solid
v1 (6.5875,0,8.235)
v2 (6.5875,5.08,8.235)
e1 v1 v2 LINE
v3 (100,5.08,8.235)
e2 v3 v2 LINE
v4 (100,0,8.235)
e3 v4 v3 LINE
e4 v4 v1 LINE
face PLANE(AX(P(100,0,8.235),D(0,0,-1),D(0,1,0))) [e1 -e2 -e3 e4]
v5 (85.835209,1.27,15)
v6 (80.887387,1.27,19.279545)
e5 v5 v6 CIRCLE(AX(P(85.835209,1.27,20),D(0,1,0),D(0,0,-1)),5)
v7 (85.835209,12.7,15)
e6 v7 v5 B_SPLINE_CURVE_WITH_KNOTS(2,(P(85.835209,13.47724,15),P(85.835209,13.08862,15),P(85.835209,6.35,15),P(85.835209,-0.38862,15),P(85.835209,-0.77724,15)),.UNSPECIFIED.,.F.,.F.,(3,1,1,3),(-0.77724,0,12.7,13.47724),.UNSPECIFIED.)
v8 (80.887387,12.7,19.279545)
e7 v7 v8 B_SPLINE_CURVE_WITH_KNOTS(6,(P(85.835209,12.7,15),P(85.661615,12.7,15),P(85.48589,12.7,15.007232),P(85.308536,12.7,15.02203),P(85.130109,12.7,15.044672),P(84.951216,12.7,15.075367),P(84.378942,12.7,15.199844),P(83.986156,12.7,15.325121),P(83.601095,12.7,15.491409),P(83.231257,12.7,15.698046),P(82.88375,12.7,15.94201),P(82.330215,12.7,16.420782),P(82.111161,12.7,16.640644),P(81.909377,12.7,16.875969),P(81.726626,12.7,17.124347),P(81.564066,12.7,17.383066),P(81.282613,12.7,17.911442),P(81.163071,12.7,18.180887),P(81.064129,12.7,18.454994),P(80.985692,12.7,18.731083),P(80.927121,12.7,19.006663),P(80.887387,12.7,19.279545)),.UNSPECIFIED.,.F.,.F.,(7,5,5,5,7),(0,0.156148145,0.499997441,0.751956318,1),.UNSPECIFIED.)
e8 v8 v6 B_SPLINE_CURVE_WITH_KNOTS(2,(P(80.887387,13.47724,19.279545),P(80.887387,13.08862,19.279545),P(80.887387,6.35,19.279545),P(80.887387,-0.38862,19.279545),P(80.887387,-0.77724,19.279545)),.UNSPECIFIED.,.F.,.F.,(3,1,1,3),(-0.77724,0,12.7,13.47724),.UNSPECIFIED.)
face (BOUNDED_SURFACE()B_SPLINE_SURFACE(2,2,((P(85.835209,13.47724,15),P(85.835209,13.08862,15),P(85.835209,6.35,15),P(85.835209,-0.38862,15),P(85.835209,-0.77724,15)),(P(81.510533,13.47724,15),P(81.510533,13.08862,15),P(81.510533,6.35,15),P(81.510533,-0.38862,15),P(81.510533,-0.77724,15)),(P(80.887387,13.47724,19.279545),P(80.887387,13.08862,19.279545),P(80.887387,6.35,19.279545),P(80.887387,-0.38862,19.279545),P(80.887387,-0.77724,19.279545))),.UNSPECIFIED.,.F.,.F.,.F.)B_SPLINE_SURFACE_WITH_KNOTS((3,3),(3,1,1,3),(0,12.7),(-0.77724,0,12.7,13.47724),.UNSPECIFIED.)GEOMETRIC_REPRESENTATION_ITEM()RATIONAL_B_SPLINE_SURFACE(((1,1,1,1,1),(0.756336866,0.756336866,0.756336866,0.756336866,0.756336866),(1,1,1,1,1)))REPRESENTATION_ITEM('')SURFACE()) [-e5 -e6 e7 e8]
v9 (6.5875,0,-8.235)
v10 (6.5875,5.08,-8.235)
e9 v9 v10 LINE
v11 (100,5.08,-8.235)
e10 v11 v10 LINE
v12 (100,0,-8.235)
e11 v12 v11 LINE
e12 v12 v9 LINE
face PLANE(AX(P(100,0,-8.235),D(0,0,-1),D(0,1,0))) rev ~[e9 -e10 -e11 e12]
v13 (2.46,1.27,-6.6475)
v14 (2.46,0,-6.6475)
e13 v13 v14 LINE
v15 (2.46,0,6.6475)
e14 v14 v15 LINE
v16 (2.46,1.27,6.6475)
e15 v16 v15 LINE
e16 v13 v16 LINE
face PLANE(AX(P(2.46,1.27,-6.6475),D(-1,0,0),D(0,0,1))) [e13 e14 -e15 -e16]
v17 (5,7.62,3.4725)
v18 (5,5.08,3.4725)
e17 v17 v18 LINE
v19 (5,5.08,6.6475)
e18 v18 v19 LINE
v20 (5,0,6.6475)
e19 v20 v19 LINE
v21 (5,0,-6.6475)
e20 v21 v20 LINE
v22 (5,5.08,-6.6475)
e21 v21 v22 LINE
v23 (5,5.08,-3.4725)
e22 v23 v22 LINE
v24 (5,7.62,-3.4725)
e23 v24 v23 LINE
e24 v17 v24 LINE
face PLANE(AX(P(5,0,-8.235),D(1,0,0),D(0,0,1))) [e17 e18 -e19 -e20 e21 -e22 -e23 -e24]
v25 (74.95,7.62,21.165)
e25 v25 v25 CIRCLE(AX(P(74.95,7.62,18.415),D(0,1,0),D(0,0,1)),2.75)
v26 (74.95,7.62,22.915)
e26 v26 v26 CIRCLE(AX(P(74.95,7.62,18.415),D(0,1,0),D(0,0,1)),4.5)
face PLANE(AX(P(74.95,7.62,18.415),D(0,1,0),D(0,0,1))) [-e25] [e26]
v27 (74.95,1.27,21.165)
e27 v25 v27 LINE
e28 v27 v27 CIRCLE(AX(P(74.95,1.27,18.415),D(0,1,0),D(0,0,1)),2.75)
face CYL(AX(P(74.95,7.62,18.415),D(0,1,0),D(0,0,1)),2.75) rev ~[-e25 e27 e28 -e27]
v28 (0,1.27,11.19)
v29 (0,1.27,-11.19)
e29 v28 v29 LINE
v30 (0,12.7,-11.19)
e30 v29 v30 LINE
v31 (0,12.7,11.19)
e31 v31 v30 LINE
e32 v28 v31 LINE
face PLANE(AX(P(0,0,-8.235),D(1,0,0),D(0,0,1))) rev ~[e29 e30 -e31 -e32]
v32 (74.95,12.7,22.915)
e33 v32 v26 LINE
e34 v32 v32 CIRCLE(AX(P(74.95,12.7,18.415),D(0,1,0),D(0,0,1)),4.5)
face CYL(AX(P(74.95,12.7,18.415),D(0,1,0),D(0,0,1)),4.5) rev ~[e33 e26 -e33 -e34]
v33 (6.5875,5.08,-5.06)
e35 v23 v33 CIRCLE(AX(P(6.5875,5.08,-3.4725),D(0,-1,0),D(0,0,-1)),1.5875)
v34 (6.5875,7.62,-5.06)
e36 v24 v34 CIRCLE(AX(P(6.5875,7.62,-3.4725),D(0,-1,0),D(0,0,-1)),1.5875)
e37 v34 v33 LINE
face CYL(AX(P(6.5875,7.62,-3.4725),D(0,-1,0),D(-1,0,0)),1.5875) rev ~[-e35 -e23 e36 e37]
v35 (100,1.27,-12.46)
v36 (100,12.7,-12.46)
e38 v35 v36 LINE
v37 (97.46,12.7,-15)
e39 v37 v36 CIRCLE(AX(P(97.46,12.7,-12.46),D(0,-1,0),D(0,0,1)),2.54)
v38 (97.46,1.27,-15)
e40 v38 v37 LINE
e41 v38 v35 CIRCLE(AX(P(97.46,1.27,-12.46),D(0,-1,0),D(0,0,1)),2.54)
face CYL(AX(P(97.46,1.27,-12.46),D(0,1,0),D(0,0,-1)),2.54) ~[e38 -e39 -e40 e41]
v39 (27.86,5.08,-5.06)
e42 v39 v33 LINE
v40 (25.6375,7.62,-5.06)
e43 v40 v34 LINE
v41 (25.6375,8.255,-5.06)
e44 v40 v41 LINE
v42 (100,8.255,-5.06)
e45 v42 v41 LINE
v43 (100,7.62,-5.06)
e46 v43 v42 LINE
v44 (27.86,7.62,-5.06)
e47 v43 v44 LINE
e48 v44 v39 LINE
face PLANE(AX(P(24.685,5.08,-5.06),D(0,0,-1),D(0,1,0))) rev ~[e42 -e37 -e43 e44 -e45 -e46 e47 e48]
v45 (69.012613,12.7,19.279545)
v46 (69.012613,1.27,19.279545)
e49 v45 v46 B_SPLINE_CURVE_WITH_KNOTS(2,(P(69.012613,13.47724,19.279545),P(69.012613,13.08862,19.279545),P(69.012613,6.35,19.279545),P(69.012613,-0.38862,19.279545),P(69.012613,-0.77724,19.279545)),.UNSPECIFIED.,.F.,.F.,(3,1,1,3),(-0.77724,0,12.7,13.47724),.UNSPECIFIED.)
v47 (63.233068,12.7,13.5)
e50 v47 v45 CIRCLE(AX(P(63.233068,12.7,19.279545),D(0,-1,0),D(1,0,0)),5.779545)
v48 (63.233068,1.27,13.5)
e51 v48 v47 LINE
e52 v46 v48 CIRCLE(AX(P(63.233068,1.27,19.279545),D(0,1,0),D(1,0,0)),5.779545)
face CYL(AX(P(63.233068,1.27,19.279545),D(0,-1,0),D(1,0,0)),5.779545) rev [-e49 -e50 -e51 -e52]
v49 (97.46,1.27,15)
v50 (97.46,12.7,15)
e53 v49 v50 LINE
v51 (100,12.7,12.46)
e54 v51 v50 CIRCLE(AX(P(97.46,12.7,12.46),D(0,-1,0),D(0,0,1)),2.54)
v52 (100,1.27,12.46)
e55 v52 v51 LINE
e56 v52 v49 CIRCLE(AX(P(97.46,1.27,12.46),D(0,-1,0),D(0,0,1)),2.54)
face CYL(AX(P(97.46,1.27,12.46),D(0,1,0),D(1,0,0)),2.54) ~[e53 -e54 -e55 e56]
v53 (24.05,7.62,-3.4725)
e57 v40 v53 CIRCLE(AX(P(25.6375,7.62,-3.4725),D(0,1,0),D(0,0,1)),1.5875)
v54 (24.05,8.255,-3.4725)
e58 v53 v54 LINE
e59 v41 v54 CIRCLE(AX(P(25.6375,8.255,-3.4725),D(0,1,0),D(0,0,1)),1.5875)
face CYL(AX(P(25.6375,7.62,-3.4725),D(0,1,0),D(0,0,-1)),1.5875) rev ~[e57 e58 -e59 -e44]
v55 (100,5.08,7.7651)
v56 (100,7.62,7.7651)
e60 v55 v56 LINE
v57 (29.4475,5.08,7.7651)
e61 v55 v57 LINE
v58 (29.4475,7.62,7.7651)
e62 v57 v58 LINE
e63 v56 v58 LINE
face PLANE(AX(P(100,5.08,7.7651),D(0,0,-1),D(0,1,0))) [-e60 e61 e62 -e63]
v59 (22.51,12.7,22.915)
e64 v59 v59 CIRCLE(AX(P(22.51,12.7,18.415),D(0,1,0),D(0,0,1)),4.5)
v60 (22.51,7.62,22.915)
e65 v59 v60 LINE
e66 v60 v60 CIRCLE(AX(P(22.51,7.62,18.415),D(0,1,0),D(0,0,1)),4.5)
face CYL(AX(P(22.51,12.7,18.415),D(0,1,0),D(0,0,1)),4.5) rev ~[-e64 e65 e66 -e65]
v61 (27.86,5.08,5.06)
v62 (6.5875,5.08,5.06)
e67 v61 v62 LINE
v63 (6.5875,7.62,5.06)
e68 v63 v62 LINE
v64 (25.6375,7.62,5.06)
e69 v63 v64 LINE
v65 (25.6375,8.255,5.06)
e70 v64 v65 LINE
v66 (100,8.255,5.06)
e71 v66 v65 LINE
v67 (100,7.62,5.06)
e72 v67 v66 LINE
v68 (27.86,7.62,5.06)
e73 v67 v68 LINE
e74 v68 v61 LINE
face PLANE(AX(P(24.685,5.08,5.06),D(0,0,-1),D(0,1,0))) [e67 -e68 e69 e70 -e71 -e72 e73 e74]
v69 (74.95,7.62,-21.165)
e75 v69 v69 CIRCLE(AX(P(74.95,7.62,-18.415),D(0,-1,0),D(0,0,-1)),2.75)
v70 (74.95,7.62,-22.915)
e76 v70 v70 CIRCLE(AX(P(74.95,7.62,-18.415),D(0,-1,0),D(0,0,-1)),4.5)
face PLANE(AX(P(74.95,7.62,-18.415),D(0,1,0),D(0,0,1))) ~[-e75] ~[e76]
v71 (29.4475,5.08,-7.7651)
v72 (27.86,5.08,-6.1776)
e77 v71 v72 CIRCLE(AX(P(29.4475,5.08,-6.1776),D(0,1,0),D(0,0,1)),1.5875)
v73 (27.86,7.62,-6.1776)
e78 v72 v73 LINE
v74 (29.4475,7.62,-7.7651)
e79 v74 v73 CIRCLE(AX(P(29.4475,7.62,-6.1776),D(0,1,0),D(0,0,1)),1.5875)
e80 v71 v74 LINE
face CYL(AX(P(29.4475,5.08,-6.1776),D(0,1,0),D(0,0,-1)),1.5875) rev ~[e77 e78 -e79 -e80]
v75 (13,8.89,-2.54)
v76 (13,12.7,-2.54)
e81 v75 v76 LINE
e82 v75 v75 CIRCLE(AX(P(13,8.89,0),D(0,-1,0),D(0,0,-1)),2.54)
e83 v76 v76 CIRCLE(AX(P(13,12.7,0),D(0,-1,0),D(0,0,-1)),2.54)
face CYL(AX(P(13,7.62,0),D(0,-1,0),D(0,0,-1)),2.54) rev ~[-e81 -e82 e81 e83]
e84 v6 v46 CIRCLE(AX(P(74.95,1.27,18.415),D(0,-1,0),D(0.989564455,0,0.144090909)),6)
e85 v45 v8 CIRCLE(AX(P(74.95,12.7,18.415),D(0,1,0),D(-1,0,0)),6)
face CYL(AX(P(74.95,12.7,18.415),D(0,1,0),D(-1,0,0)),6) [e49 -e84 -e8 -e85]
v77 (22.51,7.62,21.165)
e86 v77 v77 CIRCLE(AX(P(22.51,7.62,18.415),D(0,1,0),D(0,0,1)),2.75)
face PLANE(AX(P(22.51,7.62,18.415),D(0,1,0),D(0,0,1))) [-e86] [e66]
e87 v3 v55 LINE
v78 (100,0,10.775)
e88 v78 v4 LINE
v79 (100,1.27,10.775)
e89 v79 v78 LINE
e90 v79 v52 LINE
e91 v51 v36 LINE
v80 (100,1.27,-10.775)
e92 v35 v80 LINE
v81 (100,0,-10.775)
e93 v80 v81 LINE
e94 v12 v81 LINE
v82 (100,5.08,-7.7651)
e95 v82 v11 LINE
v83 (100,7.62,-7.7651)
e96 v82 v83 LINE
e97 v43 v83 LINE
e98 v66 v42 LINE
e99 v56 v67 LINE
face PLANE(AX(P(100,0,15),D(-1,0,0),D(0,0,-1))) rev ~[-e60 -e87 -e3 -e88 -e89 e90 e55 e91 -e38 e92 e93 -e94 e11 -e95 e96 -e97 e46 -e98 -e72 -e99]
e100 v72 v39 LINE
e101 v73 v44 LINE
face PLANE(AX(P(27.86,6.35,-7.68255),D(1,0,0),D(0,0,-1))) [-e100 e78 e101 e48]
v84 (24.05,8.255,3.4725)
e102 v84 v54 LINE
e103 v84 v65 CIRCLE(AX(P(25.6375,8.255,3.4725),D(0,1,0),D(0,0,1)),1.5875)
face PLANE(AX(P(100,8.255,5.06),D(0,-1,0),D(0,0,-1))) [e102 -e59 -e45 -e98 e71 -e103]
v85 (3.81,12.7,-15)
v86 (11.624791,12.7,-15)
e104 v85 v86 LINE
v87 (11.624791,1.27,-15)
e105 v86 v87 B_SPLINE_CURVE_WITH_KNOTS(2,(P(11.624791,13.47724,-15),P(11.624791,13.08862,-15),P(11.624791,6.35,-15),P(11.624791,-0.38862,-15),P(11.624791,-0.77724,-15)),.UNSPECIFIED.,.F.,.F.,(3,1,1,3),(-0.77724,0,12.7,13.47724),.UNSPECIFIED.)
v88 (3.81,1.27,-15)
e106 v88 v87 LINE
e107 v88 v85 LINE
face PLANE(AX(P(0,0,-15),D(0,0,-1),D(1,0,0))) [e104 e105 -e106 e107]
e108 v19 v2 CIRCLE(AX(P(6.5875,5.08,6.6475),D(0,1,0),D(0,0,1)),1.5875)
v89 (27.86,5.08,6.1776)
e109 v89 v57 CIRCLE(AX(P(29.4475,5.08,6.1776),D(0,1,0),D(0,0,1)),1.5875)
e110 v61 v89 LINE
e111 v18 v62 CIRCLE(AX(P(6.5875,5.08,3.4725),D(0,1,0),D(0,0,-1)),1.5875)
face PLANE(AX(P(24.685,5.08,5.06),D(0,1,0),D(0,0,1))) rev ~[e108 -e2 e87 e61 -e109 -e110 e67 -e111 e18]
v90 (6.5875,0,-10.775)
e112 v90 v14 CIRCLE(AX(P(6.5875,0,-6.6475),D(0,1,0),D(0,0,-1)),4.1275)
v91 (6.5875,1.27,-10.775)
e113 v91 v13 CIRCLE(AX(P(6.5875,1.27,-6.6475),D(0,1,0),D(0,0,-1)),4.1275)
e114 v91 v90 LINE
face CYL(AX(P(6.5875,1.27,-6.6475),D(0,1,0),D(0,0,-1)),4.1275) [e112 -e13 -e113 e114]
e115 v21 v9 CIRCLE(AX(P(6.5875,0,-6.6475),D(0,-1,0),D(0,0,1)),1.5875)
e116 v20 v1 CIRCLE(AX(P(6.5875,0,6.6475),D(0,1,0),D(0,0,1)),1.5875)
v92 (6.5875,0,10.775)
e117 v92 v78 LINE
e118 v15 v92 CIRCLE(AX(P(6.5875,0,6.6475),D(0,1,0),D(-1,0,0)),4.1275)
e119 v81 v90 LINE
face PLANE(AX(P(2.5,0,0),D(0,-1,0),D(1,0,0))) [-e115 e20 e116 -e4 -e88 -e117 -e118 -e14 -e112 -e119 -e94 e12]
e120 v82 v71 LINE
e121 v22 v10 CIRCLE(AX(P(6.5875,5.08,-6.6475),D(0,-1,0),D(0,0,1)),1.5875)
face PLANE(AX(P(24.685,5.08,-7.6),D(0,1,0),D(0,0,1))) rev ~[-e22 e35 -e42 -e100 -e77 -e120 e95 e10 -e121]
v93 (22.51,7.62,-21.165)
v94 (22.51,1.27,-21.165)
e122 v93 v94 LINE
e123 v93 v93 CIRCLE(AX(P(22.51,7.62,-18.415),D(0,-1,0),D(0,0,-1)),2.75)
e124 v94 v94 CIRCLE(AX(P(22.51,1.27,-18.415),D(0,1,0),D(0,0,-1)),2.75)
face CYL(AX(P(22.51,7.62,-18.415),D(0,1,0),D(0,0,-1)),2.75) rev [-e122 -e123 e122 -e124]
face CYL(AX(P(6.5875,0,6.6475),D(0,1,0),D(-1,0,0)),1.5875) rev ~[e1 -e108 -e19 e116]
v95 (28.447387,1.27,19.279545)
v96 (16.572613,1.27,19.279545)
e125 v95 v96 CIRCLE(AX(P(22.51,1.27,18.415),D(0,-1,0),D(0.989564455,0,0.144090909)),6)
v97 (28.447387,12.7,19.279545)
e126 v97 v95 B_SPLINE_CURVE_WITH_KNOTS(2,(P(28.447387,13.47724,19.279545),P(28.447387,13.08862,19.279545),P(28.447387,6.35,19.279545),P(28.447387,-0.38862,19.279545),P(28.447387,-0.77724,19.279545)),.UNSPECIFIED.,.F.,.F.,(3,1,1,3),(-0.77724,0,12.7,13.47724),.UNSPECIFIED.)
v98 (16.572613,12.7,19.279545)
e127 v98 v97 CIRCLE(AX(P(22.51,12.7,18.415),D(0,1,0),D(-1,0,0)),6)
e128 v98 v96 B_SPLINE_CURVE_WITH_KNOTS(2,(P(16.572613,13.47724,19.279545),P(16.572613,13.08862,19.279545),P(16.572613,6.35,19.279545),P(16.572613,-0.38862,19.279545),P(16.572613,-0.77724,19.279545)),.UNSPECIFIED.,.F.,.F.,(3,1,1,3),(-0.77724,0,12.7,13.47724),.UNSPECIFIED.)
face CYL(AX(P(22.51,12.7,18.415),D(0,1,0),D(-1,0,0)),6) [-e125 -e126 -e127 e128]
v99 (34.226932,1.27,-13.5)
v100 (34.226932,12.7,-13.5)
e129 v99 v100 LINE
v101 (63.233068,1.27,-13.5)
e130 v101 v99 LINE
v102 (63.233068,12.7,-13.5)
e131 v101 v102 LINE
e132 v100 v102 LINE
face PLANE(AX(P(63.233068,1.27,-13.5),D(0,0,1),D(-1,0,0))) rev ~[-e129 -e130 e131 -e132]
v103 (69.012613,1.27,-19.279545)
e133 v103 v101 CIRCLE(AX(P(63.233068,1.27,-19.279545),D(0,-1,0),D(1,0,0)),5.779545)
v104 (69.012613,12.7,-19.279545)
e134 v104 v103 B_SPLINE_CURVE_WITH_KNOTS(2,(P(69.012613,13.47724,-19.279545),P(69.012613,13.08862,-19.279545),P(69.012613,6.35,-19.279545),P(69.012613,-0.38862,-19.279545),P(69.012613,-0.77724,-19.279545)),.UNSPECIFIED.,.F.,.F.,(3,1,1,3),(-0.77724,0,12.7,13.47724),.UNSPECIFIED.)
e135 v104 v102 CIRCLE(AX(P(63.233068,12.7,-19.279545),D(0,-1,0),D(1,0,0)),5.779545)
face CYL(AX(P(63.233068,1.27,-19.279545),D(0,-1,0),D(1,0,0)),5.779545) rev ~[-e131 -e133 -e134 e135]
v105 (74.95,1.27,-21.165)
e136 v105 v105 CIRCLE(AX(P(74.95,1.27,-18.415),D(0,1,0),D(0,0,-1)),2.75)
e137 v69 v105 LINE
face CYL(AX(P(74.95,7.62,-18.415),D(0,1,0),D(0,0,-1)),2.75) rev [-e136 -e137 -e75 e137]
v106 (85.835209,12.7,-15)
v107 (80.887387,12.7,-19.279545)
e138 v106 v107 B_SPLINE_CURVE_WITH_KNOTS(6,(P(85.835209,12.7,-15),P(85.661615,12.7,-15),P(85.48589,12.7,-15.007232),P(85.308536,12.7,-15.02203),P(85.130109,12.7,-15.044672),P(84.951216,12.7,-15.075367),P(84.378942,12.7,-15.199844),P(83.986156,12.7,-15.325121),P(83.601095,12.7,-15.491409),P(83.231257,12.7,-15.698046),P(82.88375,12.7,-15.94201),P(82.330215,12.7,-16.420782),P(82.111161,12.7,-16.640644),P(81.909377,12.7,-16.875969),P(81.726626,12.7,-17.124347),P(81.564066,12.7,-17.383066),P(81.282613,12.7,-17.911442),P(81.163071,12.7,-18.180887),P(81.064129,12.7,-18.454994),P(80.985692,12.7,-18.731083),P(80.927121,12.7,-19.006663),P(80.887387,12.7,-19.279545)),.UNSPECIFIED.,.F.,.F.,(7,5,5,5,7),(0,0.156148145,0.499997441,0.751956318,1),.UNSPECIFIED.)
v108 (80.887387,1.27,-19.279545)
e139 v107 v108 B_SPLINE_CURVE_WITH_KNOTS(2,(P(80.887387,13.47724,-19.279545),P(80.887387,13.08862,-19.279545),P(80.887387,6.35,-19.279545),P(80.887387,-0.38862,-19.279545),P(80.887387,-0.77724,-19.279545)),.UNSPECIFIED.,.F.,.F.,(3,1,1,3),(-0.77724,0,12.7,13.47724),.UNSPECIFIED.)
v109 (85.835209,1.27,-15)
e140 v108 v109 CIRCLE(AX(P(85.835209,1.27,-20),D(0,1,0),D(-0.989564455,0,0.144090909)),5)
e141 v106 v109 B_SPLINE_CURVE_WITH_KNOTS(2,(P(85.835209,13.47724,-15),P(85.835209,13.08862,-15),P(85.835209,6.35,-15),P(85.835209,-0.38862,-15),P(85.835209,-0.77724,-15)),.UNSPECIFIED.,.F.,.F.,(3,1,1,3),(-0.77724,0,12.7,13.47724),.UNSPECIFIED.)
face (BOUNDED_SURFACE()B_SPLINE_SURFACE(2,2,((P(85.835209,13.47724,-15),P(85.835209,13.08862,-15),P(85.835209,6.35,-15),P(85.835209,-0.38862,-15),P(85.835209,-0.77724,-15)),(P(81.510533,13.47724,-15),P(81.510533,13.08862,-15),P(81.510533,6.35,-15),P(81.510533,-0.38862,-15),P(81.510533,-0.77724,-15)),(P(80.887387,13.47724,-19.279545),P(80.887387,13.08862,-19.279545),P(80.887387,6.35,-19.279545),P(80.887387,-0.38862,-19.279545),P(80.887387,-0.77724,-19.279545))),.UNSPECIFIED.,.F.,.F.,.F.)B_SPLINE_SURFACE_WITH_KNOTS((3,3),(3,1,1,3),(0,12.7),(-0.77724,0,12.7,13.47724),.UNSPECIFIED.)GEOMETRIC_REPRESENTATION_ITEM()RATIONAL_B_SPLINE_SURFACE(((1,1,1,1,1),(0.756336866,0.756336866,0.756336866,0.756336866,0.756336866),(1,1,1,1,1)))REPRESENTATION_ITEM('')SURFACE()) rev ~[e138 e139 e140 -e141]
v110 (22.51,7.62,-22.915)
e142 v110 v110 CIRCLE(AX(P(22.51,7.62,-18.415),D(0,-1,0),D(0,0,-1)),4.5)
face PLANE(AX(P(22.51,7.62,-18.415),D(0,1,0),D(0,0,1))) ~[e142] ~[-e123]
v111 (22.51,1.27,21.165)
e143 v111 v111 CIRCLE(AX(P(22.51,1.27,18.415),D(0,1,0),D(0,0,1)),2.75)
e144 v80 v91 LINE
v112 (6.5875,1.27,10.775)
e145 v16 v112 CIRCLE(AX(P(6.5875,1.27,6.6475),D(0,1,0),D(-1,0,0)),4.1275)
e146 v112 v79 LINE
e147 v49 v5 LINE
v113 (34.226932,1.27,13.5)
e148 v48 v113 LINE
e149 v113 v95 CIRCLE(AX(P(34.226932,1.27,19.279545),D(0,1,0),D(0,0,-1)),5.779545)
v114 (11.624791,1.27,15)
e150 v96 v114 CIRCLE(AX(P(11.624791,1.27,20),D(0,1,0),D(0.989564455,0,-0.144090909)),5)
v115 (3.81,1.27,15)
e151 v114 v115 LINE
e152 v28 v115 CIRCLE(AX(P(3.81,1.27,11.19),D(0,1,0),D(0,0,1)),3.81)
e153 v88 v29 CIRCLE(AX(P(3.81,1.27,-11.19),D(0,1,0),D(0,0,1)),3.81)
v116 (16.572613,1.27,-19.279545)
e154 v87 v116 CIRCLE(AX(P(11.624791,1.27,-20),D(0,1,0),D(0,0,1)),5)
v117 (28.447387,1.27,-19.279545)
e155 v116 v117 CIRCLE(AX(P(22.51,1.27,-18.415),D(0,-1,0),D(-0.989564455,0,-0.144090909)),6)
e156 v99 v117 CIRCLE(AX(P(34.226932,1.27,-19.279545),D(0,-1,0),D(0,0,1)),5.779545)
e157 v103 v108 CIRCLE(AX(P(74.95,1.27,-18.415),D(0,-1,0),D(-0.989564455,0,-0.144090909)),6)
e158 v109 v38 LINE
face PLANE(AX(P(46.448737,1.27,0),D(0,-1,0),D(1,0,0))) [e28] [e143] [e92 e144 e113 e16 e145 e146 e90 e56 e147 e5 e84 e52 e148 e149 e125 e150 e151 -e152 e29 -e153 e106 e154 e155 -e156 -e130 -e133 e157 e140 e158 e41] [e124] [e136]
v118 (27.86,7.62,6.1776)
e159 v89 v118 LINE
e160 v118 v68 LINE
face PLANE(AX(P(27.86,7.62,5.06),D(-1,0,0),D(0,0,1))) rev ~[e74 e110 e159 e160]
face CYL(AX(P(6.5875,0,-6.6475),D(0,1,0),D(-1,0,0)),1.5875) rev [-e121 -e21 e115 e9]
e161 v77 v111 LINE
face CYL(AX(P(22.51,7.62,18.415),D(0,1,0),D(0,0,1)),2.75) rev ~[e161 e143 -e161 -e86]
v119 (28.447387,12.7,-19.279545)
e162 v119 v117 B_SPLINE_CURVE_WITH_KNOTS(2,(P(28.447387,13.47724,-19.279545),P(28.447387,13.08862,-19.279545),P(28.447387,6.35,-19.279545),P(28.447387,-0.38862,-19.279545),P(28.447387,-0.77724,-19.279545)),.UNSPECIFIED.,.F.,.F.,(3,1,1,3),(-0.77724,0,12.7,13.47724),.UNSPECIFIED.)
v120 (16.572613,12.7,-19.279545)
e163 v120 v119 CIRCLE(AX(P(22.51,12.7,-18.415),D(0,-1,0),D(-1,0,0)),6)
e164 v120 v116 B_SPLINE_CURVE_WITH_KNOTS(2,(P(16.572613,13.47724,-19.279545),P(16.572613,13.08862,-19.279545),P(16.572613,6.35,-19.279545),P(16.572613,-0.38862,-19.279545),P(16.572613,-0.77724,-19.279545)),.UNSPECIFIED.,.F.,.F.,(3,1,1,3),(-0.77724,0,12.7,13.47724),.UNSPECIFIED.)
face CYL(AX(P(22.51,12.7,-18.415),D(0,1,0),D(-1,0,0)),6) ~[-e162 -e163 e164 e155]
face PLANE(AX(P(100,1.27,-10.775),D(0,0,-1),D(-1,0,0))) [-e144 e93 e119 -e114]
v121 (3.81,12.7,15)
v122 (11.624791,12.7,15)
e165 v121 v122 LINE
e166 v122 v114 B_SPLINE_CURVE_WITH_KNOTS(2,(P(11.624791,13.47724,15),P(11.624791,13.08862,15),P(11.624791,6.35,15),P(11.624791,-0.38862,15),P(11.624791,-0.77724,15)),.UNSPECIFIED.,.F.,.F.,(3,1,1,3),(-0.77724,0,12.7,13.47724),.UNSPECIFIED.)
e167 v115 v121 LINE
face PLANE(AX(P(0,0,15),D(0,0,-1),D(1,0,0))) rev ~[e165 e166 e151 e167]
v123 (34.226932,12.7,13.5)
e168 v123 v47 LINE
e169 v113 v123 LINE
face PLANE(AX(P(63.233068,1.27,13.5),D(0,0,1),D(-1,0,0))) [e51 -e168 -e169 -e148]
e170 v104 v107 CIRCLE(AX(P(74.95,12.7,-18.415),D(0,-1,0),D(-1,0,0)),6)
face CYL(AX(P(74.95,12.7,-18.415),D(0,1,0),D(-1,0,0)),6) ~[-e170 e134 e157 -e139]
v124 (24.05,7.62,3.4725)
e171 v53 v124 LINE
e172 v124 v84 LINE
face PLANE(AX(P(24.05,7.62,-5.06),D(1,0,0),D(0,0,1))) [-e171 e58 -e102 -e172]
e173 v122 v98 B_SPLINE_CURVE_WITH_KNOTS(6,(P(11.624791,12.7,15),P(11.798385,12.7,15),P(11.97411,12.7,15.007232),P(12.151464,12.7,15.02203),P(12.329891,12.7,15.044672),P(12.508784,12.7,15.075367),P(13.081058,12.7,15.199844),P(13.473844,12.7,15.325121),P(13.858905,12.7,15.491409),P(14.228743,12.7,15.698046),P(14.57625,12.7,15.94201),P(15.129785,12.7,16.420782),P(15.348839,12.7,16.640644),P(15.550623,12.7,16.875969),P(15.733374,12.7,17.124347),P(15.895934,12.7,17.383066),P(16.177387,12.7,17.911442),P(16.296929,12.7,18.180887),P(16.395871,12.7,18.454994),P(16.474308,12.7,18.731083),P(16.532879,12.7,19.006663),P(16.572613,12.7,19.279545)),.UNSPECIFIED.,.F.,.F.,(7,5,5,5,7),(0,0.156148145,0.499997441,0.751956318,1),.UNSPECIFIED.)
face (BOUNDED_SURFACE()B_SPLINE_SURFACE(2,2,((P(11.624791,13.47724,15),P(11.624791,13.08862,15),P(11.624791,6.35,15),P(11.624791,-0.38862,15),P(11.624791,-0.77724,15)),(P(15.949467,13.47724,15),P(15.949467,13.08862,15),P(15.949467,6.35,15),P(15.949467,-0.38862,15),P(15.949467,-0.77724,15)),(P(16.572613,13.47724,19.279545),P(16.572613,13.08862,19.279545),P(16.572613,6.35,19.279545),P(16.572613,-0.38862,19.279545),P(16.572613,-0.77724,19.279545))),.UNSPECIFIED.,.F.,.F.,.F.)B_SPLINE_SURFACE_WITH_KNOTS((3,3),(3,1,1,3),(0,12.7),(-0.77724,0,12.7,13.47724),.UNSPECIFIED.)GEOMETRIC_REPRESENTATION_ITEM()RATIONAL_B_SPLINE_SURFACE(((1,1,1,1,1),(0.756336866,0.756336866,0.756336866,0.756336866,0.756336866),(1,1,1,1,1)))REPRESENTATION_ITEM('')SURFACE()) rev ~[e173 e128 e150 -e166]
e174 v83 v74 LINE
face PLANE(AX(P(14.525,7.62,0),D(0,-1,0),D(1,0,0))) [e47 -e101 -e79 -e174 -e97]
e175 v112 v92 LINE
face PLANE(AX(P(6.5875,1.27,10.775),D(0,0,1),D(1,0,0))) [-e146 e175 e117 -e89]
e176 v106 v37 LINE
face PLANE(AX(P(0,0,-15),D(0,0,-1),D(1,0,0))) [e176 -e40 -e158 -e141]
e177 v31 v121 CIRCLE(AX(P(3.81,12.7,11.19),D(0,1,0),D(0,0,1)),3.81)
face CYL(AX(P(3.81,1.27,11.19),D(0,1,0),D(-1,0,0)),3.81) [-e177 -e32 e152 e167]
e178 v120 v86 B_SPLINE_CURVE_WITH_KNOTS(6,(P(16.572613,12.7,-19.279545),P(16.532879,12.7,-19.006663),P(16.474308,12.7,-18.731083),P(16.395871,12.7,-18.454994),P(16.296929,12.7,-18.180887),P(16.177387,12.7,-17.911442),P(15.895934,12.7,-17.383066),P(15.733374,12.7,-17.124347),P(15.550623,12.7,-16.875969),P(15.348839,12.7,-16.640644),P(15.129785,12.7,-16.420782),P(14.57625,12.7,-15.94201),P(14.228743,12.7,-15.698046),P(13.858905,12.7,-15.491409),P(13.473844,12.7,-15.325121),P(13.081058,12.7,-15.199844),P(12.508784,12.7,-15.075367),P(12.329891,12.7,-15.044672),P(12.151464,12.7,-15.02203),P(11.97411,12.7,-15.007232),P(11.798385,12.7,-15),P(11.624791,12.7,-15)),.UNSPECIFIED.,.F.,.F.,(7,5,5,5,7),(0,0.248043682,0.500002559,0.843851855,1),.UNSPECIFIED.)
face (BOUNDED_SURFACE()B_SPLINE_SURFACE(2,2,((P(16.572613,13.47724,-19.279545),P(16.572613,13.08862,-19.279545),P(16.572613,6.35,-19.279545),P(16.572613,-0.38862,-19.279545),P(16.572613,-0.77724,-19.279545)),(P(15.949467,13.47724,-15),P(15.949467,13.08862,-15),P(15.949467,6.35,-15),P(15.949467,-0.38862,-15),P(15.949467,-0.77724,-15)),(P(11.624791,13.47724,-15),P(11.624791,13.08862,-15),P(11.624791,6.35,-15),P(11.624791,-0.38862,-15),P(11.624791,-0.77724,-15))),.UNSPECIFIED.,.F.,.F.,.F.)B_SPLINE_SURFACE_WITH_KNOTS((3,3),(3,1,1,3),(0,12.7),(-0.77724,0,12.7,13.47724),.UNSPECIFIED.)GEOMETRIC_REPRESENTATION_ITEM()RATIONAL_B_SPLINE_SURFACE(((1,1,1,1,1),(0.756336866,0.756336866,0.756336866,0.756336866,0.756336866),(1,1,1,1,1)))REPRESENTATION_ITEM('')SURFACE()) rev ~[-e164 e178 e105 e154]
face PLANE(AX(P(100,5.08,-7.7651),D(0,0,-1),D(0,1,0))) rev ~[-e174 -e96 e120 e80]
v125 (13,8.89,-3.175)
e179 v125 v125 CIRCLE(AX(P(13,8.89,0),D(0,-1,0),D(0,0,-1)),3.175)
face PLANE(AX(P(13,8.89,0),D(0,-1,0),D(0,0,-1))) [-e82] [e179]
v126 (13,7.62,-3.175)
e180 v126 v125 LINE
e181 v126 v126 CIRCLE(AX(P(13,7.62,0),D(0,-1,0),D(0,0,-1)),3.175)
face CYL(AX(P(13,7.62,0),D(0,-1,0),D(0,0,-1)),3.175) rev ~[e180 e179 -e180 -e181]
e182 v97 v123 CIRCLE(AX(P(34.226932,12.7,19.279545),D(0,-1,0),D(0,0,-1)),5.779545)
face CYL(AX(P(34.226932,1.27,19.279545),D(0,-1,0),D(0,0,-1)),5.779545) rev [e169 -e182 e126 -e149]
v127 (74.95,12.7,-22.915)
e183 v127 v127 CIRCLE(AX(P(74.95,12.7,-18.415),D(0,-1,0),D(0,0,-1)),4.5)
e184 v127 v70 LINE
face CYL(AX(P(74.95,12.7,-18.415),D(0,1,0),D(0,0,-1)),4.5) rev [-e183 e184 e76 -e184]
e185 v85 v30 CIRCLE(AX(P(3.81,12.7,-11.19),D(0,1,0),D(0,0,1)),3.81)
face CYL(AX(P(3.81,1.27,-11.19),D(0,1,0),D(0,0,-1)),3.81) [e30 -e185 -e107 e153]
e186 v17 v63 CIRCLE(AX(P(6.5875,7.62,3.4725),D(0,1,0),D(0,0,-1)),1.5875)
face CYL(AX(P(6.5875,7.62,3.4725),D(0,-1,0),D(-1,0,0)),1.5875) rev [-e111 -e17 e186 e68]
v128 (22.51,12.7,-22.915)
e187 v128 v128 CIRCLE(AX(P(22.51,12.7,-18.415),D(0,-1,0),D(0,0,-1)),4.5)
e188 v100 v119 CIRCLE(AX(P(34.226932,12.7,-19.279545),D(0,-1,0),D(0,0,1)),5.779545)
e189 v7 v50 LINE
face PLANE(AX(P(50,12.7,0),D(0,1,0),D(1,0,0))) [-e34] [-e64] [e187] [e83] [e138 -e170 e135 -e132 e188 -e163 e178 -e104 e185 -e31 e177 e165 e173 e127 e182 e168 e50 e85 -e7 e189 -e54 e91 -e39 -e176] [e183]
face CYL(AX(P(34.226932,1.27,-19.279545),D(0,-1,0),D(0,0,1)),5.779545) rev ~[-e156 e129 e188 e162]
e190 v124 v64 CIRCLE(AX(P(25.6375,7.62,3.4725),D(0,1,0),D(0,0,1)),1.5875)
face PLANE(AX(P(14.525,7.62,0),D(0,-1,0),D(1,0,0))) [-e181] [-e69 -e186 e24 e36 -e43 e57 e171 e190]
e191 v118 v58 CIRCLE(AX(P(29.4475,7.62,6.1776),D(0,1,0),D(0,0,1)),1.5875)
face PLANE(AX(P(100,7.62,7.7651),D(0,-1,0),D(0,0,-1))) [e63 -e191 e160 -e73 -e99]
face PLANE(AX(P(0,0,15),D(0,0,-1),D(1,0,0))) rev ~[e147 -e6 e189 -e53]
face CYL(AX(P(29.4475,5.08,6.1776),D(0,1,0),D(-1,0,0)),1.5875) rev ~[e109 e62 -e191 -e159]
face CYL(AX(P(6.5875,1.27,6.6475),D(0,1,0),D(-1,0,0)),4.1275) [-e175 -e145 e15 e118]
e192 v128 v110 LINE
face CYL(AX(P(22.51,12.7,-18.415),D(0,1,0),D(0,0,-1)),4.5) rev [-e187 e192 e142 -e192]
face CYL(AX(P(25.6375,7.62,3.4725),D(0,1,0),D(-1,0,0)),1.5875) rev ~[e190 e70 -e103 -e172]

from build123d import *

# Parameters (mm, degrees)
SKETCH1_W           = 100
SKETCH1_H           = 30
BOSS_EXTRUDE1_DEPTH = 12.7
SKETCH2_W           = 15.2
SKETCH2_H           = 7.62
CUT_EXTRUDE1_DEPTH  = 102.913149299
SKETCH3_W           = 0.635
SKETCH3_H           = 5.08
SKETCH3_W_2         = 10.12
SKETCH3_H_2         = 0.635
CUT_EXTRUDE2_DEPTH  = 102.913149299
BOSS_EXTRUDE2_REACH = 103.913
SKETCH4_W           = 5
SKETCH4_H           = 16.47
FILLET7_R           = 1.5875
FILLET8_R           = 1.5875
BOSS_EXTRUDE3_REACH = 103.405
SKETCH9_W           = 19.05
SKETCH9_H           = 10.12
SKETCH7_R           = 2.54
CUT_EXTRUDE4_DEPTH  = 102.405445613
SKETCH10_R          = 3.175
CUT_EXTRUDE6_DEPTH  = 1.27
FILLET5_R           = 1.5875
BOSS_EXTRUDE4_DEPTH = 12.7
SKETCH12_R          = 4.5
CUT_EXTRUDE7_DEPTH  = 5.08
SKETCH13_R          = 2.75
CUT_EXTRUDE8_DEPTH  = 104.218974152
FILLET6_R           = 5
CUT_EXTRUDE9_START  = -1.27
CUT_EXTRUDE9_DEPTH  = 1.27
SKETCH25_W          = 3.175
SKETCH25_H          = 2.54
BOSS_EXTRUDE5_DEPTH = 2.54
BOSS_EXTRUDE6_REACH = 82.186
SKETCH26_W          = 2.54
SKETCH26_H          = 2.54
SKETCH31_W          = 0.1651
SKETCH31_H          = 2.54
ADJUST_DEPTH        = 72.14
FILLET9_R           = 1.5875
CUT_EXTRUDE10_DEPTH = 104.569962596
FILLET10_R          = 3.81
FILLET11_R          = 2.54


with BuildPart() as part:
    # Sketch1 → Boss-Extrude1 (new body)
    with BuildSketch(Plane(origin=(0, 0, 0), x_dir=(1, 0, 0), z_dir=(0, 1, 0))):
        with Locations((50, 0)):
            Rectangle(SKETCH1_W, SKETCH1_H)
    extrude(amount=BOSS_EXTRUDE1_DEPTH)

    # Sketch2 → Cut-Extrude1 (cut, through all)
    with BuildSketch(Plane(origin=(100, 0, 0), x_dir=(0, 0, -1), z_dir=(1, 0, 0))):
        with Locations((0, 3.81)):
            Rectangle(SKETCH2_W, SKETCH2_H)
    extrude(amount=-CUT_EXTRUDE1_DEPTH, mode=Mode.SUBTRACT)

    # Sketch3 → Cut-Extrude2 (cut, through all)
    with BuildSketch(Plane(origin=(100, 0, 0), x_dir=(0, 0, -1), z_dir=(1, 0, 0))):
        with Locations((-7.9175, 2.54)):
            Rectangle(SKETCH3_W, SKETCH3_H)
        with Locations((0, 7.9375)):
            Rectangle(SKETCH3_W_2, SKETCH3_H_2)
        with Locations((7.9175, 2.54)):
            Rectangle(SKETCH3_W, SKETCH3_H)
    extrude(amount=-CUT_EXTRUDE2_DEPTH, mode=Mode.SUBTRACT)

    # Sketch4 → Boss-Extrude2 (add, up to next)
    with BuildSketch(Plane.XZ, mode=Mode.PRIVATE) as boss_extrude2_sk1:
        with Locations((2.5, 0)):
            Rectangle(SKETCH4_W, SKETCH4_H)
    boss_extrude2_tool1 = extrude(boss_extrude2_sk1.sketch, amount=-BOSS_EXTRUDE2_REACH, mode=Mode.PRIVATE) - part.part
    add(boss_extrude2_tool1.solids().sort_by_distance((2.5, 0, 0))[0])

    # Fillet7
    fillet7_edges = [part.edges().sort_by_distance(p)[0] for p in [
        (5, 6.35, 7.6),
        (5, 6.35, -7.6),
    ]]
    fillet(fillet7_edges, radius=FILLET7_R)

    # Fillet8
    fillet8_edges = [part.edges().sort_by_distance(p)[0] for p in [
        (5, 2.54, 8.235),
        (5, 2.54, -8.235),
    ]]
    fillet(fillet8_edges, radius=FILLET8_R)

    # Sketch9 → Boss-Extrude3 (add, up to next)
    with BuildSketch(Plane.XZ.offset(-7.62), mode=Mode.PRIVATE) as boss_extrude3_sk1:
        with Locations((14.525, 0)):
            Rectangle(SKETCH9_W, SKETCH9_H)
    boss_extrude3_tool1 = extrude(boss_extrude3_sk1.sketch, amount=-BOSS_EXTRUDE3_REACH, mode=Mode.PRIVATE) - part.part
    add(boss_extrude3_tool1.solids().sort_by_distance((14.525, 7.62, 0))[0])

    # Sketch7 → Cut-Extrude4 (cut, through all)
    with BuildSketch(Plane.XZ.offset(-7.62)):
        with Locations(Location((13, 0, 0), (0, 0, 270))):
            Circle(SKETCH7_R)
    extrude(amount=-CUT_EXTRUDE4_DEPTH, mode=Mode.SUBTRACT)

    # Sketch10 → Cut-Extrude6 (cut)
    with BuildSketch(Plane.XZ.offset(-7.62)):
        with Locations(Location((13, 0, 0), (0, 0, 270))):
            Circle(SKETCH10_R)
    extrude(amount=-CUT_EXTRUDE6_DEPTH, mode=Mode.SUBTRACT)

    # Fillet5
    fillet5_edges = [part.edges().sort_by_distance(p)[0] for p in [
        (24.05, 7.9375, 5.06),
        (24.05, 7.9375, -5.06),
    ]]
    fillet(fillet5_edges, radius=FILLET5_R)

    # Sketch11 → Boss-Extrude4 (add)
    with BuildSketch(Plane(origin=(0, 12.7, 0), x_dir=(1, 0, 0), z_dir=(0, 1, 0))):
        with BuildLine():
            Line((68.95, -15), (68.95, -18.415))
            ThreePointArc((68.95, -18.415), (74.95, -24.415), (80.95, -18.415))
            Line((80.95, -18.415), (80.95, -15))
            Line((80.95, -15), (68.95, -15))
        make_face()
        with BuildLine():
            Line((28.51, -18.415), (28.51, -15))
            Line((28.51, -15), (16.51, -15))
            Line((16.51, -15), (16.51, -18.415))
            ThreePointArc((16.51, -18.415), (22.51, -24.415), (28.51, -18.415))
        make_face()
    boss_extrude4 = extrude(amount=-BOSS_EXTRUDE4_DEPTH)

    # Sketch12 → Cut-Extrude7 (cut)
    with BuildSketch(Plane(origin=(0, 12.7, 0), x_dir=(1, 0, 0), z_dir=(0, 1, 0))):
        with Locations(Location((22.51, -18.415, 0), (0, 0, 270))):
            Circle(SKETCH12_R)
        with Locations(Location((74.95, -18.415, 0), (0, 0, 270))):
            Circle(SKETCH12_R)
    cut_extrude7 = extrude(amount=-CUT_EXTRUDE7_DEPTH, mode=Mode.SUBTRACT)

    # Sketch13 → Cut-Extrude8 (cut, through all)
    with BuildSketch(Plane(origin=(0, 7.62, 0), x_dir=(1, 0, 0), z_dir=(0, 1, 0))):
        with Locations(Location((22.51, -18.415, 0), (0, 0, 270))):
            Circle(SKETCH13_R)
        with Locations(Location((74.95, -18.415, 0), (0, 0, 270))):
            Circle(SKETCH13_R)
    cut_extrude8 = extrude(amount=-CUT_EXTRUDE8_DEPTH, mode=Mode.SUBTRACT)

    # Mirror1: Boss-Extrude4, Cut-Extrude7, Cut-Extrude8 across plane
    add(boss_extrude4.mirror(Plane.XY))
    add(cut_extrude7.mirror(Plane.XY), mode=Mode.SUBTRACT)
    add(cut_extrude8.mirror(Plane.XY), mode=Mode.SUBTRACT)

    # Fillet6
    fillet6_edges = [part.edges().sort_by_distance(p)[0] for p in [
        (16.51, 6.35, 15),
        (28.51, 6.35, 15),
        (68.95, 6.35, 15),
        (80.95, 6.35, 15),
        (80.95, 6.35, -15),
        (68.95, 6.35, -15),
        (16.51, 6.35, -15),
        (28.51, 6.35, -15),
    ]]
    fillet(fillet6_edges, radius=FILLET6_R)

    # Sketch24 → Cut-Extrude9 (cut)
    with BuildSketch(Plane.XZ.offset(CUT_EXTRUDE9_START)):
        with BuildLine():
            Line((100, -10.775), (6.5875, -10.775))
            ThreePointArc((6.5875, -10.775), (3.668916761, -9.566083239), (2.46, -6.6475))
            Line((2.46, -6.6475), (2.46, 6.6475))
            ThreePointArc((2.46, 6.6475), (3.668916761, 9.566083239), (6.5875, 10.775))
            Line((6.5875, 10.775), (100, 10.775))
            Line((100, 10.775), (100, 15))
            Line((100, 15), (85.835209001, 15))
            ThreePointArc((85.835209001, 15), (82.564297257, 16.218315671), (80.887386728, 19.279545455))
            ThreePointArc((80.887386728, 19.279545455), (74.95, 24.415), (69.012613272, 19.279545455))
            ThreePointArc((69.012613272, 19.279545455), (67.335702743, 16.218315671), (64.064790999, 15))
            Line((64.064790999, 15), (33.395209001, 15))
            ThreePointArc((33.395209001, 15), (30.124297257, 16.218315671), (28.447386728, 19.279545455))
            ThreePointArc((28.447386728, 19.279545455), (22.51, 24.415), (16.572613272, 19.279545455))
            ThreePointArc((16.572613272, 19.279545455), (14.895702743, 16.218315671), (11.624790999, 15))
            Line((11.624790999, 15), (0, 15))
            Line((0, 15), (0, -15))
            Line((0, -15), (11.624790999, -15))
            ThreePointArc((11.624790999, -15), (14.895702743, -16.218315671), (16.572613272, -19.279545455))
            ThreePointArc((16.572613272, -19.279545455), (22.51, -24.415), (28.447386728, -19.279545455))
            ThreePointArc((28.447386728, -19.279545455), (30.124297257, -16.218315671), (33.395209001, -15))
            Line((33.395209001, -15), (64.064790999, -15))
            ThreePointArc((64.064790999, -15), (67.335702743, -16.218315671), (69.012613272, -19.279545455))
            ThreePointArc((69.012613272, -19.279545455), (74.95, -24.415), (80.887386728, -19.279545455))
            ThreePointArc((80.887386728, -19.279545455), (82.564297257, -16.218315671), (85.835209001, -15))
            Line((85.835209001, -15), (100, -15))
            Line((100, -15), (100, -10.775))
        make_face()
    extrude(amount=CUT_EXTRUDE9_DEPTH, mode=Mode.SUBTRACT)

    # Sketch25 → Boss-Extrude5 (add)
    with BuildSketch(Plane.XZ.offset(-7.62)):
        with Locations((26.2725, 6.33)):
            Rectangle(SKETCH25_W, SKETCH25_H)
        with Locations((26.2725, -6.33)):
            Rectangle(SKETCH25_W, SKETCH25_H)
    extrude(amount=BOSS_EXTRUDE5_DEPTH)

    # Sketch26 → Boss-Extrude6 (add, up to next)
    with BuildSketch(Plane.ZY.offset(-24.685), mode=Mode.PRIVATE) as boss_extrude6_sk1:
        with Locations((6.33, 6.35)):
            Rectangle(SKETCH26_W, SKETCH26_H)
    boss_extrude6_tool1 = extrude(boss_extrude6_sk1.sketch, amount=BOSS_EXTRUDE6_REACH, mode=Mode.PRIVATE) - part.part
    # Sketch26 → Boss-Extrude6 (add, up to next)
    with BuildSketch(Plane.ZY.offset(-24.685), mode=Mode.PRIVATE) as boss_extrude6_sk2:
        with Locations((-6.33, 6.35)):
            Rectangle(SKETCH26_W, SKETCH26_H)
    boss_extrude6_tool2 = extrude(boss_extrude6_sk2.sketch, amount=BOSS_EXTRUDE6_REACH, mode=Mode.PRIVATE) - part.part
    add(boss_extrude6_tool1.solids().sort_by_distance((24.685, 6.35, 6.33))[0])
    add(boss_extrude6_tool2.solids().sort_by_distance((24.685, 6.35, -6.33))[0])

    # Sketch31 → adjust (cut)
    with BuildSketch(Plane(origin=(100, 0, 0), x_dir=(0, 0, -1), z_dir=(1, 0, 0))):
        with Locations((7.68255, 6.35)):
            Rectangle(SKETCH31_W, SKETCH31_H)
        with Locations((-7.68255, 6.35)):
            Rectangle(SKETCH31_W, SKETCH31_H)
    extrude(amount=-ADJUST_DEPTH, mode=Mode.SUBTRACT)

    # Fillet9
    fillet9_edges = [part.edges().sort_by_distance(p)[0] for p in [
        (5, 6.35, 5.06),
        (5, 6.35, -5.06),
        (27.86, 6.35, 7.7651),
        (27.86, 6.35, -7.7651),
    ]]
    fillet(fillet9_edges, radius=FILLET9_R)

    # Sketch33 → Cut-Extrude10 (cut, through all)
    with BuildSketch(Plane.XZ.offset(-1.27)):
        with BuildLine():
            Line((28.447386728, 19.279545455), (28.447386728, 29.295040307))
            Line((28.447386728, 29.295040307), (69.012613272, 29.295040307))
            Line((69.012613272, 29.295040307), (69.012613272, 19.279545455))
            ThreePointArc((69.012613272, 19.279545455), (67.319823601, 15.192789671), (63.233067818, 13.5))
            Line((63.233067818, 13.5), (34.226932182, 13.5))
            ThreePointArc((34.226932182, 13.5), (30.140176399, 15.192789671), (28.447386728, 19.279545455))
        make_face()
        with BuildLine():
            Line((28.447386728, -19.279545455), (28.447386728, -29.295040307))
            Line((28.447386728, -29.295040307), (69.012613272, -29.295040307))
            Line((69.012613272, -29.295040307), (69.012613272, -19.279545455))
            ThreePointArc((69.012613272, -19.279545455), (67.319823601, -15.192789671), (63.233067818, -13.5))
            Line((63.233067818, -13.5), (34.226932182, -13.5))
            ThreePointArc((34.226932182, -13.5), (30.140176399, -15.192789671), (28.447386728, -19.279545455))
        make_face()
    extrude(amount=-CUT_EXTRUDE10_DEPTH, mode=Mode.SUBTRACT)

    # Fillet10
    fillet10_edges = [part.edges().sort_by_distance(p)[0] for p in [
        (0, 6.985, 15),
        (0, 6.985, -15),
    ]]
    fillet(fillet10_edges, radius=FILLET10_R)

    # Fillet11
    fillet11_edges = [part.edges().sort_by_distance(p)[0] for p in [
        (100, 6.985, 15),
        (100, 6.985, -15),
    ]]
    fillet(fillet11_edges, radius=FILLET11_R)


solid = part.part
